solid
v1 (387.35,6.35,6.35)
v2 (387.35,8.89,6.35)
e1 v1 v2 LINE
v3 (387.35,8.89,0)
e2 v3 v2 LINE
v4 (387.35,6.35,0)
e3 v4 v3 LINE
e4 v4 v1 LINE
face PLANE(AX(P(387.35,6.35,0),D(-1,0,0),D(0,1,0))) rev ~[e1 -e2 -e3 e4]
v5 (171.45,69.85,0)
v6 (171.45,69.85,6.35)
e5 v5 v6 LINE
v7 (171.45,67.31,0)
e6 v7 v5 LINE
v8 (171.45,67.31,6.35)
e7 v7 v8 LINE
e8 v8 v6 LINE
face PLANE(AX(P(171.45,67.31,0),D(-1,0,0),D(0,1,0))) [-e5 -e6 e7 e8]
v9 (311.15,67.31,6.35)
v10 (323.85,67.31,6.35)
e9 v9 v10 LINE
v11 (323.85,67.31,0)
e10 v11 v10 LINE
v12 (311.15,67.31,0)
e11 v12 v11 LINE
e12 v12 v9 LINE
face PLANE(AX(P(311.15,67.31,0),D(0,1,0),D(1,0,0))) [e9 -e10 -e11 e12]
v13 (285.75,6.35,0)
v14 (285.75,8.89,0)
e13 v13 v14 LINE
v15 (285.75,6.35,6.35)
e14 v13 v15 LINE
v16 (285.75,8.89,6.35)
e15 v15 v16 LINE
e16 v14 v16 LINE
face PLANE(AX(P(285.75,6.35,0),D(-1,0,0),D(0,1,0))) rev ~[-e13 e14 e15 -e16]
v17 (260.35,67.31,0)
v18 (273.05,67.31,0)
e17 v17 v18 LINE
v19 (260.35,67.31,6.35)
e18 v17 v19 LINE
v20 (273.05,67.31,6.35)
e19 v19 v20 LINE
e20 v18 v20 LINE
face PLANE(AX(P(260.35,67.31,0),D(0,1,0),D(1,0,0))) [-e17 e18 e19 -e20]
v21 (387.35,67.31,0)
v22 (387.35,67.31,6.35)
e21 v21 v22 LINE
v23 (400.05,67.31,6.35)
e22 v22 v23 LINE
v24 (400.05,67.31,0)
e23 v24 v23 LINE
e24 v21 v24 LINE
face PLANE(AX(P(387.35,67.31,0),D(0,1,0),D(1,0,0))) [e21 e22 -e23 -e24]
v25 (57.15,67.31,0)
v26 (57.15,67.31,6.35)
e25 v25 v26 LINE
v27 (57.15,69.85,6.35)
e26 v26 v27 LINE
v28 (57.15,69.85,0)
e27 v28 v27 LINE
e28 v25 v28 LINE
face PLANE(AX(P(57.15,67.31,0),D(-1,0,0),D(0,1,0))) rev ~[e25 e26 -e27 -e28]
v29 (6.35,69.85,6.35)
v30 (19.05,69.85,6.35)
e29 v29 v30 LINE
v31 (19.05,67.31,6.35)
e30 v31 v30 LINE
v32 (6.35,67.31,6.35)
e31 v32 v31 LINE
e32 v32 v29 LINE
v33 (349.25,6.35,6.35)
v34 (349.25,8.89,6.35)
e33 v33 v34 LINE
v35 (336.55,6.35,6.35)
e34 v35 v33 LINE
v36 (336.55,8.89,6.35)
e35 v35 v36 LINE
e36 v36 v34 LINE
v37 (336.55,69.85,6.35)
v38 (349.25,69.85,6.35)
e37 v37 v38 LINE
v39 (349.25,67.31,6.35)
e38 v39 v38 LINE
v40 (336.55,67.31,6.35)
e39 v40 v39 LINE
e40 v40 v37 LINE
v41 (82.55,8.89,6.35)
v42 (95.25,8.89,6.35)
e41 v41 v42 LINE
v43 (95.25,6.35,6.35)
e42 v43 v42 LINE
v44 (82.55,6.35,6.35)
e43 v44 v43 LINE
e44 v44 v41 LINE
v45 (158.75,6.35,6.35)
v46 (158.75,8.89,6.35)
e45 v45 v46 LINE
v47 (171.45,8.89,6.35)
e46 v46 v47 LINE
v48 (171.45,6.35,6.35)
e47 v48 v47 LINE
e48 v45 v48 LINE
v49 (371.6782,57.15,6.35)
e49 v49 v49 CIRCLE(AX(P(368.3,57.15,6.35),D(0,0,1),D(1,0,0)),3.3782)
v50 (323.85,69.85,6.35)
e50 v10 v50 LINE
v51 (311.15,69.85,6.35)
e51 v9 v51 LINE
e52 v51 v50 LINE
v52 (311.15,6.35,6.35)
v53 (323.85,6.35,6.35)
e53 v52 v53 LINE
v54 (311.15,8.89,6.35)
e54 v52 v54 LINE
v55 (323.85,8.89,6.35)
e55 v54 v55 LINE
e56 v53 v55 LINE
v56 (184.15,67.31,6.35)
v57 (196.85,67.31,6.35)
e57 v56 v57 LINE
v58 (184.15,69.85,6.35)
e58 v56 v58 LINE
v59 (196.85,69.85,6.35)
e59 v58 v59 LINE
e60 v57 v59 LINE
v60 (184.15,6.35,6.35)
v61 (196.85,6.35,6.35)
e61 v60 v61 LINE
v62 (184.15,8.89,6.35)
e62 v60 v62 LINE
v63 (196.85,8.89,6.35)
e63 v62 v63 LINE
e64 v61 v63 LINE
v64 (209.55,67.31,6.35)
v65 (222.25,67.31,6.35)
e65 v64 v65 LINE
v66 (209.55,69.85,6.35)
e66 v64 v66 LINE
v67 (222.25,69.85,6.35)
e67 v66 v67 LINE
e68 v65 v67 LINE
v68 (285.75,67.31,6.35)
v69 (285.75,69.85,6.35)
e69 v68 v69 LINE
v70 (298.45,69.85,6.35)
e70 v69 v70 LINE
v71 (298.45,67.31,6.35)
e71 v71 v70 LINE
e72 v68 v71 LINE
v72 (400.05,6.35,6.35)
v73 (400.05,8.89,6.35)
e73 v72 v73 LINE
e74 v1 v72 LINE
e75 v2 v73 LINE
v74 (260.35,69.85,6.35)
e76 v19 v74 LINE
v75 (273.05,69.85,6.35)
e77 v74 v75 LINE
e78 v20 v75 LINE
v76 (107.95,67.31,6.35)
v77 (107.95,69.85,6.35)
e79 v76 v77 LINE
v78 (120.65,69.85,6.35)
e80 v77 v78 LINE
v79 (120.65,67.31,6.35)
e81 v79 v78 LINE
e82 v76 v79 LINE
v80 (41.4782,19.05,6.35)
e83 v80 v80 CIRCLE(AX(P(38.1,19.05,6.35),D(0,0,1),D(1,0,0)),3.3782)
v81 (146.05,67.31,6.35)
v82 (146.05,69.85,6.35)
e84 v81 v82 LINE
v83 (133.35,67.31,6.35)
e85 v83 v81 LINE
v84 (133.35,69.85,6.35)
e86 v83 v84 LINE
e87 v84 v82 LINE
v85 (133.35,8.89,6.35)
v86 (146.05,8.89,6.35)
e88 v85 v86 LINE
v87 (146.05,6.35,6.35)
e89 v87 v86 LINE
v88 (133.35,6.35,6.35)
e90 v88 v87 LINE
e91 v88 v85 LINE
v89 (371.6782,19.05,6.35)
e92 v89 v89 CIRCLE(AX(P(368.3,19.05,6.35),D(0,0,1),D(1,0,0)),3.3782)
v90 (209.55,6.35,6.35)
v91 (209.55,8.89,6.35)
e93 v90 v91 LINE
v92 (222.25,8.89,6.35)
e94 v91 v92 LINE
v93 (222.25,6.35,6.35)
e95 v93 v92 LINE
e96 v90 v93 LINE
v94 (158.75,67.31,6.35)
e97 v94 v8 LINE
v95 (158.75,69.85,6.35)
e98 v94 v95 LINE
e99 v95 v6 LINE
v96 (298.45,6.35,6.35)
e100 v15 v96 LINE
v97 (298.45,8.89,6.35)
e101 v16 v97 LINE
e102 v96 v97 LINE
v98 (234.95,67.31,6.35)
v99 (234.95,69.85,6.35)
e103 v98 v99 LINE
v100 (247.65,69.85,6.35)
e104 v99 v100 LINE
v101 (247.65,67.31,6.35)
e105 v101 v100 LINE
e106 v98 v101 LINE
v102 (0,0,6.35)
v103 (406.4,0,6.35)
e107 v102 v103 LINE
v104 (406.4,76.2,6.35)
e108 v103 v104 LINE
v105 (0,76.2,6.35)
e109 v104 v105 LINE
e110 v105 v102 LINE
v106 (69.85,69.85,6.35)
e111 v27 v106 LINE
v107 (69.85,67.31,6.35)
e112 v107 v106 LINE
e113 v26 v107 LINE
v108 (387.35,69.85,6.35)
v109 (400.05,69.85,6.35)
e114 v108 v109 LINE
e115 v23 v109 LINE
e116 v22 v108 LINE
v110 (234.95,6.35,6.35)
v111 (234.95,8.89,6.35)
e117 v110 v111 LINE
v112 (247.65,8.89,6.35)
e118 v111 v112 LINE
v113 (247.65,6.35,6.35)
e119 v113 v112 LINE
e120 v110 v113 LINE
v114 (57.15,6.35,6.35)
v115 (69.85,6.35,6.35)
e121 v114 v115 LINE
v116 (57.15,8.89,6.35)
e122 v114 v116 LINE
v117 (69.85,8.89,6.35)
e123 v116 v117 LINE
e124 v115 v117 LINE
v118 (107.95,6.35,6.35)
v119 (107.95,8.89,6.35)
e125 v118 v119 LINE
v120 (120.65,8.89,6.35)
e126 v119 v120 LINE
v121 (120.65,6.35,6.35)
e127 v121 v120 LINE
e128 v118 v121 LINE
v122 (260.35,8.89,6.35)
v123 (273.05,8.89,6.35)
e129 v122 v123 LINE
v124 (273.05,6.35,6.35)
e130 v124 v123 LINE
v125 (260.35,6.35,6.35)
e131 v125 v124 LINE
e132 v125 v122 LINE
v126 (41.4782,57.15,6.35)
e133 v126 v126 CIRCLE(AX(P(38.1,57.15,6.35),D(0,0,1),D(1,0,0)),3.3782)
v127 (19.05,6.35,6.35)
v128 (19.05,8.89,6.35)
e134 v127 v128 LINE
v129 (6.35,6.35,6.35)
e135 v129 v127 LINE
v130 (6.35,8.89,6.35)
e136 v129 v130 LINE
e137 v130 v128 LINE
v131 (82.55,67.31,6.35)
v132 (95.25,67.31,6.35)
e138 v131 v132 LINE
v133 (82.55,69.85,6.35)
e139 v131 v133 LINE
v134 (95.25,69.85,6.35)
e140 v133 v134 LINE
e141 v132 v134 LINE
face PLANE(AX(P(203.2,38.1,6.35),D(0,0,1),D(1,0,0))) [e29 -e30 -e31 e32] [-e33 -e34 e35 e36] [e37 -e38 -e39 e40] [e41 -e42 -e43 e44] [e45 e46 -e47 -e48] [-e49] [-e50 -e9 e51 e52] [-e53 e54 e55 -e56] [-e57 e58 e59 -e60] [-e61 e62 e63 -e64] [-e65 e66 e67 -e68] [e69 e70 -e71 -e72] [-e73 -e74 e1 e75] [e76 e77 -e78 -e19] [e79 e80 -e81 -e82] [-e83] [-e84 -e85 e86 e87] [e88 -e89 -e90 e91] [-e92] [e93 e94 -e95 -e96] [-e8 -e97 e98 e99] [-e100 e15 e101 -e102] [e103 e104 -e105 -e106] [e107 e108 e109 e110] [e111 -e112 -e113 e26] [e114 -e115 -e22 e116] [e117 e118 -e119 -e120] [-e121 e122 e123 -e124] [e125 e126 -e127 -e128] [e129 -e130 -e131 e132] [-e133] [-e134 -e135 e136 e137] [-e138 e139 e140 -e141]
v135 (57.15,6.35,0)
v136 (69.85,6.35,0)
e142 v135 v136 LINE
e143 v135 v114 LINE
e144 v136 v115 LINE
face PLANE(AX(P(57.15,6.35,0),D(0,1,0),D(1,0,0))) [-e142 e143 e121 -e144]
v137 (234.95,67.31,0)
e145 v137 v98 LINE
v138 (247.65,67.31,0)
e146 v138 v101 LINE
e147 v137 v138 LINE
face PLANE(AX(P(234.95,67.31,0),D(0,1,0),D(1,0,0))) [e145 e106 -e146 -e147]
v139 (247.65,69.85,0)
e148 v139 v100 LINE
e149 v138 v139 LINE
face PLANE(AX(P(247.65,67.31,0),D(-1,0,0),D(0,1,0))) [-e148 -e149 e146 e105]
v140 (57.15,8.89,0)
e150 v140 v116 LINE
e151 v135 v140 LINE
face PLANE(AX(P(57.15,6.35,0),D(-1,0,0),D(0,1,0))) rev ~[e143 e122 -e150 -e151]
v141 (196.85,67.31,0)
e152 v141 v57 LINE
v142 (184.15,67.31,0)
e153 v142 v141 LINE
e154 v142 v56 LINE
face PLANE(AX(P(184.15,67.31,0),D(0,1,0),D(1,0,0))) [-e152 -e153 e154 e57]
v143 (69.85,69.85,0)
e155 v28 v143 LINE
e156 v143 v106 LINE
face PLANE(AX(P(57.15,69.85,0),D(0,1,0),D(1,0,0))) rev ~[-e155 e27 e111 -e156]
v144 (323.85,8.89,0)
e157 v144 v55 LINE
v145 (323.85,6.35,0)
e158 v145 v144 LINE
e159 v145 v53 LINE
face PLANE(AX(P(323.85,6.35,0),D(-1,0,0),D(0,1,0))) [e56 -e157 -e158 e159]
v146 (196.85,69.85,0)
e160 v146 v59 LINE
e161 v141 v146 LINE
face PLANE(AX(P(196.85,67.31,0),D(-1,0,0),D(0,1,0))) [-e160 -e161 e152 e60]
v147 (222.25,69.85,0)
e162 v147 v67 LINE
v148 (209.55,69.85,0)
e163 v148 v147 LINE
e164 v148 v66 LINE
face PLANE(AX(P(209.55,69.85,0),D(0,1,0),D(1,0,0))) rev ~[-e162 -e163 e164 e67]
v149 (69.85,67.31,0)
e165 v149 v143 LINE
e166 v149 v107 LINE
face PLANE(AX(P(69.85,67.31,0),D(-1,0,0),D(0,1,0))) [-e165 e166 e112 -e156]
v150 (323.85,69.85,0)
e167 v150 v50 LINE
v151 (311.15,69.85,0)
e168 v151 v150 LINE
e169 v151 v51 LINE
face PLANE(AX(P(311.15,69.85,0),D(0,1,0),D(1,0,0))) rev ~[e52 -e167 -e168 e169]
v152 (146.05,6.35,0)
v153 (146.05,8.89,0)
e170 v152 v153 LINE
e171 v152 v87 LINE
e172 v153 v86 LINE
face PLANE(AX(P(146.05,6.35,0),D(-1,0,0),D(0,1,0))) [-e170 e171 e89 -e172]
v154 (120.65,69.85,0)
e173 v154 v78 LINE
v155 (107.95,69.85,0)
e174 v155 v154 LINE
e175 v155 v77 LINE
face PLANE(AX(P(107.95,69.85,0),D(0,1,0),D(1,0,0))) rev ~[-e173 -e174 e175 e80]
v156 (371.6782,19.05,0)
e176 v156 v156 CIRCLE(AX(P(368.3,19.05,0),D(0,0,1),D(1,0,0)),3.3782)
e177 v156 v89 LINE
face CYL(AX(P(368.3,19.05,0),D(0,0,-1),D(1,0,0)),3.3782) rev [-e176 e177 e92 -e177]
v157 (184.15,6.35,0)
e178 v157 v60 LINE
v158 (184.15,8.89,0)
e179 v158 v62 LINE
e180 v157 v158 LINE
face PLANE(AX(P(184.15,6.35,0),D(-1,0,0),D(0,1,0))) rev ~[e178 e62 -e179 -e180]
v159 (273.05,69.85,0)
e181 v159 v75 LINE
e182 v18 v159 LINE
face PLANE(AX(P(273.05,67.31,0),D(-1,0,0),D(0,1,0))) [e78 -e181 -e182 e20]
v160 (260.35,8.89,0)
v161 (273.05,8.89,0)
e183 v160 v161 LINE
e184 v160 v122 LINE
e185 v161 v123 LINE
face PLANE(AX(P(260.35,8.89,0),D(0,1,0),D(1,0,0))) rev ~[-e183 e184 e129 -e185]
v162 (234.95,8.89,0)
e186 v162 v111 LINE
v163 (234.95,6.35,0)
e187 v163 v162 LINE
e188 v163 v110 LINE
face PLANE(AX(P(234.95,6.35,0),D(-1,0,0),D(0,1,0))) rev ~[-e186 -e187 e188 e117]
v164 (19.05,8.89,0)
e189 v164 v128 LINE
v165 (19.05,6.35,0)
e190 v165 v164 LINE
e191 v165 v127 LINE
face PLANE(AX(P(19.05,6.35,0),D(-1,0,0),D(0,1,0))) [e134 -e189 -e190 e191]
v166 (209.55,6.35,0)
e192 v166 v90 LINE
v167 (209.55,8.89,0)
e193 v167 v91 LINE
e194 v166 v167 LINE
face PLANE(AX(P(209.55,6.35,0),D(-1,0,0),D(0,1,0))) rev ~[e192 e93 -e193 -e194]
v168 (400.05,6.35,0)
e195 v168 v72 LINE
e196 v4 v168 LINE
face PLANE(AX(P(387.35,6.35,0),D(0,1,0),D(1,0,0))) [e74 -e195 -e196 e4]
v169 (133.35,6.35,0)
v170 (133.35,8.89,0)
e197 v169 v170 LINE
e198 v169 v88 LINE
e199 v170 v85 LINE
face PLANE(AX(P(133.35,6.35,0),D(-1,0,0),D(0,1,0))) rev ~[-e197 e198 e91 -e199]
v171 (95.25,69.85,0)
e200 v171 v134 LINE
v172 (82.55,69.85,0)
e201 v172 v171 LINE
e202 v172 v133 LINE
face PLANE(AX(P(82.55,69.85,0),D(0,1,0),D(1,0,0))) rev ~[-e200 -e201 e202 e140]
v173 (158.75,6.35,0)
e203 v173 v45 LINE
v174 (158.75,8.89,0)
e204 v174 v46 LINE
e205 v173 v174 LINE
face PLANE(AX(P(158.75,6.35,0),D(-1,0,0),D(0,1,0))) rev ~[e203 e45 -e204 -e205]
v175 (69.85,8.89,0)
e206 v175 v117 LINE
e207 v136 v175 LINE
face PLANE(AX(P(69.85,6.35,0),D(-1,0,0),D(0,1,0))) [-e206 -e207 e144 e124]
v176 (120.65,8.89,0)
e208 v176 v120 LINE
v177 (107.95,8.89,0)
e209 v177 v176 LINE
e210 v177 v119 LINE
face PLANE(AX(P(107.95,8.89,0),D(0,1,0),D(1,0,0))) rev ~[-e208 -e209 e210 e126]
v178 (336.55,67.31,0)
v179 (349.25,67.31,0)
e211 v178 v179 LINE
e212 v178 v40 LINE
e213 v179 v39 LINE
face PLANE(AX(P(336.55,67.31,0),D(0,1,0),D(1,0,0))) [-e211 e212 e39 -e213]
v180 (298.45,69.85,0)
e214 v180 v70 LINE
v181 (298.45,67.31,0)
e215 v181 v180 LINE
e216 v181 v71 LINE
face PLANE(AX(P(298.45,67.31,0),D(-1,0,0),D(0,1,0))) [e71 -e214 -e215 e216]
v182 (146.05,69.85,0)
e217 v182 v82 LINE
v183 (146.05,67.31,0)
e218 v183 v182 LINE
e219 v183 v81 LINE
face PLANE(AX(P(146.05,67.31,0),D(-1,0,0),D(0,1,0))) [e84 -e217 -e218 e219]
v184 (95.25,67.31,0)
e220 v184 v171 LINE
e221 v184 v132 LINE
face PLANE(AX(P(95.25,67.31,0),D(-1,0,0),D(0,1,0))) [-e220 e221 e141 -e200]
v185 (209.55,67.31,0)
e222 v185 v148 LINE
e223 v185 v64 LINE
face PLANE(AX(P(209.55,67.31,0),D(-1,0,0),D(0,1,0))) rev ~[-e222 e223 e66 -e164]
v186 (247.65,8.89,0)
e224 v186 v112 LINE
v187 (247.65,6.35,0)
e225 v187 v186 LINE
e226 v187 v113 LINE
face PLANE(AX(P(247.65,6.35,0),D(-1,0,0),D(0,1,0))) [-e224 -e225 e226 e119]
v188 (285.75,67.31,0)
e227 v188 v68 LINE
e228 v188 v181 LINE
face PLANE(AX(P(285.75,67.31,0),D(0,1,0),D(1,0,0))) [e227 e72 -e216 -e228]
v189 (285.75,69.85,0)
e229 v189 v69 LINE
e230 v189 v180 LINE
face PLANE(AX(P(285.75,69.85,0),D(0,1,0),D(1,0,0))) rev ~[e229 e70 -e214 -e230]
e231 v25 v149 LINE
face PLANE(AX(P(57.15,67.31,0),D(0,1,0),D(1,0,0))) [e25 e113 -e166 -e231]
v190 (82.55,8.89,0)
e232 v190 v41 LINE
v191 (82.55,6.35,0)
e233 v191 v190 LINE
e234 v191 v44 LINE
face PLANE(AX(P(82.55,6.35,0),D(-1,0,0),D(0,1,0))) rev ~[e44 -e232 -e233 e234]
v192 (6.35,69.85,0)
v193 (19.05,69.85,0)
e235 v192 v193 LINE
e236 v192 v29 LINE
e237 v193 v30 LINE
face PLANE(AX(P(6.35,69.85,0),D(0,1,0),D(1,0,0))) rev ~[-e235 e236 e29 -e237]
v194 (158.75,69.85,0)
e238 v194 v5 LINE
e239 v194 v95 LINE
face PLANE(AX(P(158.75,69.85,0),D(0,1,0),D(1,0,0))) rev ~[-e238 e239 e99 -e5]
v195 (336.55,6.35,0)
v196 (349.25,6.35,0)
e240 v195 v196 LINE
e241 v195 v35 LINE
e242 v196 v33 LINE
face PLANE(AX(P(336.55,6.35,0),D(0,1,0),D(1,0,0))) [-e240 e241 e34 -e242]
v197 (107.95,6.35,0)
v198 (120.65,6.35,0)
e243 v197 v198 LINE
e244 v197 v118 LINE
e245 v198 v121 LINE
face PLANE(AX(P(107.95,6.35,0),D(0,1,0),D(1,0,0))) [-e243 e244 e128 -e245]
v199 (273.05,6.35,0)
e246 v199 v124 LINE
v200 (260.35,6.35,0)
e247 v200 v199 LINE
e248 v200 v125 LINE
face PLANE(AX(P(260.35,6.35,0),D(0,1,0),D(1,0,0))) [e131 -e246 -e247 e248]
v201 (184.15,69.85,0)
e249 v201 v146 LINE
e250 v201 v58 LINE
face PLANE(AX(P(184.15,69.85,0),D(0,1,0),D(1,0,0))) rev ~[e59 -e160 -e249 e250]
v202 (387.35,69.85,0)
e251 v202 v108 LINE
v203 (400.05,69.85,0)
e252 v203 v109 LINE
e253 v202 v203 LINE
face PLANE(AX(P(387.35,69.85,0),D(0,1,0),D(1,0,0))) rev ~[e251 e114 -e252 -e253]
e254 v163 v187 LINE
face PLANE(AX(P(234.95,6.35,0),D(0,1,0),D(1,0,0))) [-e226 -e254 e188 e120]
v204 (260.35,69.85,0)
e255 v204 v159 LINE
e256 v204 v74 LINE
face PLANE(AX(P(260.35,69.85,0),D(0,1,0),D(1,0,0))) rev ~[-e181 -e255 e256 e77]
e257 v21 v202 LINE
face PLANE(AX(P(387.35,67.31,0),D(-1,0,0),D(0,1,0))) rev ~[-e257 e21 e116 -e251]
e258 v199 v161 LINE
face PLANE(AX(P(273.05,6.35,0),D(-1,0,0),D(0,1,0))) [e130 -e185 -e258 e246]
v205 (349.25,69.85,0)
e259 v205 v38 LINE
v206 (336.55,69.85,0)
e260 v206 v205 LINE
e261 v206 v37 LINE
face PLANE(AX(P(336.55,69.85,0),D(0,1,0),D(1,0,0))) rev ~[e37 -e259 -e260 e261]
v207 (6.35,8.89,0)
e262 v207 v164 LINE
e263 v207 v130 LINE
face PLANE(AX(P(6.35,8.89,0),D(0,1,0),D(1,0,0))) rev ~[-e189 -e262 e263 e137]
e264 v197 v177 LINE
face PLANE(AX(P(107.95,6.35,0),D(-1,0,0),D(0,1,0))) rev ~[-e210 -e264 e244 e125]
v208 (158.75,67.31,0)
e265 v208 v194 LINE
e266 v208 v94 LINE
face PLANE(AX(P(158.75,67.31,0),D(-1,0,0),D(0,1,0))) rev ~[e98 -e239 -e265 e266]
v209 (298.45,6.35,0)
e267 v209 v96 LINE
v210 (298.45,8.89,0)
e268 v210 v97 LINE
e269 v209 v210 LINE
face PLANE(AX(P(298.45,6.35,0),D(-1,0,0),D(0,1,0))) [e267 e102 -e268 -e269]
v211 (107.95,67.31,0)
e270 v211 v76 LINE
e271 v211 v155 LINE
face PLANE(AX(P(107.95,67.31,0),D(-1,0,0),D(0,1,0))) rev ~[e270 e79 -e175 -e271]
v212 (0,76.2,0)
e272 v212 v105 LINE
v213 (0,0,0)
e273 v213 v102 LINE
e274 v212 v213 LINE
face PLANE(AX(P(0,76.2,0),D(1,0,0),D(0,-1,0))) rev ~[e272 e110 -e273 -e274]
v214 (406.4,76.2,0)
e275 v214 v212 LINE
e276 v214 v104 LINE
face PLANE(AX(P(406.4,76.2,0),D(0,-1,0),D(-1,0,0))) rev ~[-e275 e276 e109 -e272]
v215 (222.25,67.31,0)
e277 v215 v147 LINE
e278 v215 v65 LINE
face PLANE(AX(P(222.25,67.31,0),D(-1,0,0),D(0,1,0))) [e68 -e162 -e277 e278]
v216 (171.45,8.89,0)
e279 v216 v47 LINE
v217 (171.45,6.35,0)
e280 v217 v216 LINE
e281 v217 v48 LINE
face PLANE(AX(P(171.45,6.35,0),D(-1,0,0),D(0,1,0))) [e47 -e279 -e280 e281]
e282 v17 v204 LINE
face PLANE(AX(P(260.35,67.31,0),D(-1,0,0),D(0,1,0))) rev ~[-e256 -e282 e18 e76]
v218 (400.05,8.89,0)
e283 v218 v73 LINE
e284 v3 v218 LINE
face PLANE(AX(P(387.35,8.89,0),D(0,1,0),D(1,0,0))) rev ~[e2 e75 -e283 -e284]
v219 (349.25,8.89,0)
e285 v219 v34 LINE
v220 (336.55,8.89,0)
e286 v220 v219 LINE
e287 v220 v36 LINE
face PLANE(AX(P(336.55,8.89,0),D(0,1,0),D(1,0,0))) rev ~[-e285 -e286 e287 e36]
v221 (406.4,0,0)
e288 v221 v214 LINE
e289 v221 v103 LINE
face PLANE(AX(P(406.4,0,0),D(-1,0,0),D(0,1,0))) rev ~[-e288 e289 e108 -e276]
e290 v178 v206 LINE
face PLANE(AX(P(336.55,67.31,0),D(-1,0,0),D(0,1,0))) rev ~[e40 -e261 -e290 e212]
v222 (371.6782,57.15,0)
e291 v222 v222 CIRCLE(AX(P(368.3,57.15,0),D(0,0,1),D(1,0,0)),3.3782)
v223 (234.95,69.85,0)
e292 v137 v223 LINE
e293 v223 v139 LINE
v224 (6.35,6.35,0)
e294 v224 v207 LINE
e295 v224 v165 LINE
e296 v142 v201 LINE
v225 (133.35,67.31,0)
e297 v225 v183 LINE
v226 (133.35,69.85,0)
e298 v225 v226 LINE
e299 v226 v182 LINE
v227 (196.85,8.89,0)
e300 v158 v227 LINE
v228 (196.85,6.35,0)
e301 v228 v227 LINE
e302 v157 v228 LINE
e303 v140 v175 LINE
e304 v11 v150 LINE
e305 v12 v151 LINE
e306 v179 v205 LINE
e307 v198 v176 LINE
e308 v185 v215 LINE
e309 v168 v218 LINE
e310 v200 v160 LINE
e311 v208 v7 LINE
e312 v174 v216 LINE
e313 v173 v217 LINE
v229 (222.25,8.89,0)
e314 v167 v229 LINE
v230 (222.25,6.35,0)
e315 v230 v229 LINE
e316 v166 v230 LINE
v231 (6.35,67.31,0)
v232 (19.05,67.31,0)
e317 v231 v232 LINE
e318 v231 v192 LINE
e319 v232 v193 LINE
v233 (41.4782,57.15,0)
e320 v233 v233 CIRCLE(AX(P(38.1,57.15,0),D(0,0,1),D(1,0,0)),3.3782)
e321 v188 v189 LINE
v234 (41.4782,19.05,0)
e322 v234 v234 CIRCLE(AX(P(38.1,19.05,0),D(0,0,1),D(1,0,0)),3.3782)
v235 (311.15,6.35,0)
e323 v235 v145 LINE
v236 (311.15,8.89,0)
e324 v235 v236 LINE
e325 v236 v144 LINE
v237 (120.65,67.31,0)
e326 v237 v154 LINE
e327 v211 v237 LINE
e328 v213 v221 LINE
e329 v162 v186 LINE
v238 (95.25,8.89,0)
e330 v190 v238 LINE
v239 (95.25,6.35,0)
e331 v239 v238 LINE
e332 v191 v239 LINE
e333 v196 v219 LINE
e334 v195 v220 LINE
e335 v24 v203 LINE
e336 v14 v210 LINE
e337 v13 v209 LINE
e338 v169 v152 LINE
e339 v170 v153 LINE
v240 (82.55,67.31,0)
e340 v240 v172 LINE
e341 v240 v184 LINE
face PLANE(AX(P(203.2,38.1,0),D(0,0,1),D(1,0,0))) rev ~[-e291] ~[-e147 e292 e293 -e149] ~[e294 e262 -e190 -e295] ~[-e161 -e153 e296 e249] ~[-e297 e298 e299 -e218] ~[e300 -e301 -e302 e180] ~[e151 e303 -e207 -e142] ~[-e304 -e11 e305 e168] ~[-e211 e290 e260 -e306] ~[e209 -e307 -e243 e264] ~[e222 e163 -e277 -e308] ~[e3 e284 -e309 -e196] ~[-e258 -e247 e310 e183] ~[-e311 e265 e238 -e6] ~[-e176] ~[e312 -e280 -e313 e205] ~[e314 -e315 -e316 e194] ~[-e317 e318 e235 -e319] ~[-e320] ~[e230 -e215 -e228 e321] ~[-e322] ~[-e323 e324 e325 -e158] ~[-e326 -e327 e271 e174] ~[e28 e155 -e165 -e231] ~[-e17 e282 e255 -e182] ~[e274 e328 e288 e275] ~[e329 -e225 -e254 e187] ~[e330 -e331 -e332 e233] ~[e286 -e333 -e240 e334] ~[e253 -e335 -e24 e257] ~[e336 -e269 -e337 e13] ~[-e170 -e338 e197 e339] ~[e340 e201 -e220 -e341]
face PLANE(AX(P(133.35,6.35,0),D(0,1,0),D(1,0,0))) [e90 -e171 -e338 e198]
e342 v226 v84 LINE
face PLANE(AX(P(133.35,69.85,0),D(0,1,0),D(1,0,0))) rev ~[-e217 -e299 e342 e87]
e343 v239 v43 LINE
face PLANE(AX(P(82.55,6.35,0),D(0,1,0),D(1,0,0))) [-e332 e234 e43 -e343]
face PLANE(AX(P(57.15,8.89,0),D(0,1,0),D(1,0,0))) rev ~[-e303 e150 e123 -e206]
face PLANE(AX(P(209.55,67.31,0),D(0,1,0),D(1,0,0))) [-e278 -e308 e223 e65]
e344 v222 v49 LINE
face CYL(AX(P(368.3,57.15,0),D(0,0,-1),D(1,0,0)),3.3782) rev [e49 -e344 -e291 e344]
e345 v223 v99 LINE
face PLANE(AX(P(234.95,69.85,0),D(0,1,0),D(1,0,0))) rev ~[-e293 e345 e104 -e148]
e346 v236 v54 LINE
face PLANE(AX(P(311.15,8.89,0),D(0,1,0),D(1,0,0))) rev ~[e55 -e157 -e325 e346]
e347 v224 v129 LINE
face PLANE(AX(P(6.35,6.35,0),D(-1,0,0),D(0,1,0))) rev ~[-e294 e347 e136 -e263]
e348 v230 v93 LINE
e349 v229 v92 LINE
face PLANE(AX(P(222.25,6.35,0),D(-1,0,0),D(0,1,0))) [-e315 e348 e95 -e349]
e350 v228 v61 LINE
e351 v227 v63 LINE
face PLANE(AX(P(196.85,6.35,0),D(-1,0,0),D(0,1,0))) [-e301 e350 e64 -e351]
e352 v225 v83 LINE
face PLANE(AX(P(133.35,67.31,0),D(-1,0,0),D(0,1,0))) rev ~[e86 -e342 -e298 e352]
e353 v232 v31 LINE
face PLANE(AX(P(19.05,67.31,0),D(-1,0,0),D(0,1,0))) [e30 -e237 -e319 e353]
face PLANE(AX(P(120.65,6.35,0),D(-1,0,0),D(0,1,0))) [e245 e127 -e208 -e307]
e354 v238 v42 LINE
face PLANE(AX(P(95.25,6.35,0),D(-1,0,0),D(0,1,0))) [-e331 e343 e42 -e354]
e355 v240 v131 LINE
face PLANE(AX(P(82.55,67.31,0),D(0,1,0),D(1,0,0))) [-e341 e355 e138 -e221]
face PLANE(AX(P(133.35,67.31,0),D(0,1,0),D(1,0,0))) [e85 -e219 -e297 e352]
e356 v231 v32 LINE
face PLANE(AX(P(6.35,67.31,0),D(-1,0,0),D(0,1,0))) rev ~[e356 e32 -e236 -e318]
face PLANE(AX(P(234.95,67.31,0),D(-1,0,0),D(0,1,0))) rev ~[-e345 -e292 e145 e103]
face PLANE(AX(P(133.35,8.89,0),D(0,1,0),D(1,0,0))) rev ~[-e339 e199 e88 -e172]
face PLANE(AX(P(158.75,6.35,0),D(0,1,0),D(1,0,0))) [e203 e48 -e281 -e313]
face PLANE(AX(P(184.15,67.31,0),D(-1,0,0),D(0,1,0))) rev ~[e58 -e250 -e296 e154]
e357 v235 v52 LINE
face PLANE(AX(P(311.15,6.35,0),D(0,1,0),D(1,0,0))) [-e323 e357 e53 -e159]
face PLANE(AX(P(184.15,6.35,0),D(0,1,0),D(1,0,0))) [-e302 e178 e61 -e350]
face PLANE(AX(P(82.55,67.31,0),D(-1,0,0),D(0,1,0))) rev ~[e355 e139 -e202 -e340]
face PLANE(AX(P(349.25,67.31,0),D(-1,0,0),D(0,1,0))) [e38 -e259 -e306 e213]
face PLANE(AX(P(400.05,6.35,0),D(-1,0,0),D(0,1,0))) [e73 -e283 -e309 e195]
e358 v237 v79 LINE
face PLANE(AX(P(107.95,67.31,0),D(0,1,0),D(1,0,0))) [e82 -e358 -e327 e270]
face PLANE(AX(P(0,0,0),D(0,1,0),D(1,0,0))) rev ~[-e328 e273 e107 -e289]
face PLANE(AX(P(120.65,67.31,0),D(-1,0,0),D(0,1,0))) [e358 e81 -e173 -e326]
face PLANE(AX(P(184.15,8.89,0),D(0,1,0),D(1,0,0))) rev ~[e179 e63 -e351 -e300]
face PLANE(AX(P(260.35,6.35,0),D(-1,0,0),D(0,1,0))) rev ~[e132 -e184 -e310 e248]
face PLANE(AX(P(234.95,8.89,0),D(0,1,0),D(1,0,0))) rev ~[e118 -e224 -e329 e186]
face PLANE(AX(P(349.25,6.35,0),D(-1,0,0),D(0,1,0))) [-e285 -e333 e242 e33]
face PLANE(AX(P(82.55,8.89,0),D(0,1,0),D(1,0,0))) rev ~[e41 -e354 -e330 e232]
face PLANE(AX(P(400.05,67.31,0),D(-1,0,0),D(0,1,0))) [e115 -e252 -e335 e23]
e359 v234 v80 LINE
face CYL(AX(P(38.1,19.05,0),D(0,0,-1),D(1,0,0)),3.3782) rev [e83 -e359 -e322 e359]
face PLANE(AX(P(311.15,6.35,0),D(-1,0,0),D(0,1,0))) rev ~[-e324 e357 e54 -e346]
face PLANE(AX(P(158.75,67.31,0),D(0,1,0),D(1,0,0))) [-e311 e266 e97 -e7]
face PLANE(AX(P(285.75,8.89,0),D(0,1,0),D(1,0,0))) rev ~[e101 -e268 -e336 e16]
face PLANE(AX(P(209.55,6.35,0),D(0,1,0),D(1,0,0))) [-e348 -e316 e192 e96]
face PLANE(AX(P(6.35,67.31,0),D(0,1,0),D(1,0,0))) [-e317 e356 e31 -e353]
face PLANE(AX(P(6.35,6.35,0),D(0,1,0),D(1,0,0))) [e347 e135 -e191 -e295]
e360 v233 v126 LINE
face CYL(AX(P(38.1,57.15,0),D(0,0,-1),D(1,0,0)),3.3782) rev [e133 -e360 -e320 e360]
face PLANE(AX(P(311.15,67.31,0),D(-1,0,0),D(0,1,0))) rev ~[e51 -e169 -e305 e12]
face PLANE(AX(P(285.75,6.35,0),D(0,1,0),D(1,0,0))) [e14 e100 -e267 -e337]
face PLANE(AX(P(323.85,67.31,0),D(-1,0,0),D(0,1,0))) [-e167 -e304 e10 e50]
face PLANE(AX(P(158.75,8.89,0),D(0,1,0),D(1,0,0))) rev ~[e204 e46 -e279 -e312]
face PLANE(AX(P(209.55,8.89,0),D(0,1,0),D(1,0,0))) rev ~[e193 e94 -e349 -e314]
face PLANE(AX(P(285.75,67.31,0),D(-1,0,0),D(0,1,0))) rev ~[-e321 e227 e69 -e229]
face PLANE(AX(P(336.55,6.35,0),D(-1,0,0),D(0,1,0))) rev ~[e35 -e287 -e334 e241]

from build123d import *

# Parameters (mm, degrees)
F0_W     = 12.7
F0_H     = 2.54
F0_R     = 3.3782
F1_DEPTH = 6.35


with BuildPart() as f1:
    # F0 (on Top) → F1 (new body)
    with BuildSketch(Plane.XY):
        Polygon((0, 69.85), (0, 0), (406.4, 0), (406.4, 76.2), (0, 76.2), align=None)
        with Locations((12.7, 7.62)):
            Rectangle(F0_W, F0_H, mode=Mode.SUBTRACT)
        with Locations((63.5, 7.62)):
            Rectangle(F0_W, F0_H, mode=Mode.SUBTRACT)
        with Locations((88.9, 7.62)):
            Rectangle(F0_W, F0_H, mode=Mode.SUBTRACT)
        with Locations((114.3, 7.62)):
            Rectangle(F0_W, F0_H, mode=Mode.SUBTRACT)
        with Locations((139.7, 7.62)):
            Rectangle(F0_W, F0_H, mode=Mode.SUBTRACT)
        with Locations((165.1, 7.62)):
            Rectangle(F0_W, F0_H, mode=Mode.SUBTRACT)
        with Locations((190.5, 7.62)):
            Rectangle(F0_W, F0_H, mode=Mode.SUBTRACT)
        with Locations((38.1, 19.05)):
            Circle(F0_R, mode=Mode.SUBTRACT)
        with Locations((215.9, 7.62)):
            Rectangle(F0_W, F0_H, mode=Mode.SUBTRACT)
        with Locations((241.3, 7.62)):
            Rectangle(F0_W, F0_H, mode=Mode.SUBTRACT)
        with Locations((266.7, 7.62)):
            Rectangle(F0_W, F0_H, mode=Mode.SUBTRACT)
        with Locations((292.1, 7.62)):
            Rectangle(F0_W, F0_H, mode=Mode.SUBTRACT)
        with Locations((317.5, 7.62)):
            Rectangle(F0_W, F0_H, mode=Mode.SUBTRACT)
        with Locations((342.9, 7.62)):
            Rectangle(F0_W, F0_H, mode=Mode.SUBTRACT)
        with Locations((393.7, 7.62)):
            Rectangle(F0_W, F0_H, mode=Mode.SUBTRACT)
        with Locations((368.3, 19.05)):
            Circle(F0_R, mode=Mode.SUBTRACT)
        with Locations((38.1, 57.15)):
            Circle(F0_R, mode=Mode.SUBTRACT)
        with Locations((12.7, 68.58)):
            Rectangle(F0_W, F0_H, mode=Mode.SUBTRACT)
        with Locations((63.5, 68.58)):
            Rectangle(F0_W, F0_H, mode=Mode.SUBTRACT)
        with Locations((88.9, 68.58)):
            Rectangle(F0_W, F0_H, mode=Mode.SUBTRACT)
        with Locations((114.3, 68.58)):
            Rectangle(F0_W, F0_H, mode=Mode.SUBTRACT)
        with Locations((139.7, 68.58)):
            Rectangle(F0_W, F0_H, mode=Mode.SUBTRACT)
        with Locations((165.1, 68.58)):
            Rectangle(F0_W, F0_H, mode=Mode.SUBTRACT)
        with Locations((190.5, 68.58)):
            Rectangle(F0_W, F0_H, mode=Mode.SUBTRACT)
        with Locations((215.9, 68.58)):
            Rectangle(F0_W, F0_H, mode=Mode.SUBTRACT)
        with Locations((241.3, 68.58)):
            Rectangle(F0_W, F0_H, mode=Mode.SUBTRACT)
        with Locations((266.7, 68.58)):
            Rectangle(F0_W, F0_H, mode=Mode.SUBTRACT)
        with Locations((292.1, 68.58)):
            Rectangle(F0_W, F0_H, mode=Mode.SUBTRACT)
        with Locations((368.3, 57.15)):
            Circle(F0_R, mode=Mode.SUBTRACT)
        with Locations((317.5, 68.58)):
            Rectangle(F0_W, F0_H, mode=Mode.SUBTRACT)
        with Locations((342.9, 68.58)):
            Rectangle(F0_W, F0_H, mode=Mode.SUBTRACT)
        with Locations((393.7, 68.58)):
            Rectangle(F0_W, F0_H, mode=Mode.SUBTRACT)
    extrude(amount=F1_DEPTH)


solid = f1.part
